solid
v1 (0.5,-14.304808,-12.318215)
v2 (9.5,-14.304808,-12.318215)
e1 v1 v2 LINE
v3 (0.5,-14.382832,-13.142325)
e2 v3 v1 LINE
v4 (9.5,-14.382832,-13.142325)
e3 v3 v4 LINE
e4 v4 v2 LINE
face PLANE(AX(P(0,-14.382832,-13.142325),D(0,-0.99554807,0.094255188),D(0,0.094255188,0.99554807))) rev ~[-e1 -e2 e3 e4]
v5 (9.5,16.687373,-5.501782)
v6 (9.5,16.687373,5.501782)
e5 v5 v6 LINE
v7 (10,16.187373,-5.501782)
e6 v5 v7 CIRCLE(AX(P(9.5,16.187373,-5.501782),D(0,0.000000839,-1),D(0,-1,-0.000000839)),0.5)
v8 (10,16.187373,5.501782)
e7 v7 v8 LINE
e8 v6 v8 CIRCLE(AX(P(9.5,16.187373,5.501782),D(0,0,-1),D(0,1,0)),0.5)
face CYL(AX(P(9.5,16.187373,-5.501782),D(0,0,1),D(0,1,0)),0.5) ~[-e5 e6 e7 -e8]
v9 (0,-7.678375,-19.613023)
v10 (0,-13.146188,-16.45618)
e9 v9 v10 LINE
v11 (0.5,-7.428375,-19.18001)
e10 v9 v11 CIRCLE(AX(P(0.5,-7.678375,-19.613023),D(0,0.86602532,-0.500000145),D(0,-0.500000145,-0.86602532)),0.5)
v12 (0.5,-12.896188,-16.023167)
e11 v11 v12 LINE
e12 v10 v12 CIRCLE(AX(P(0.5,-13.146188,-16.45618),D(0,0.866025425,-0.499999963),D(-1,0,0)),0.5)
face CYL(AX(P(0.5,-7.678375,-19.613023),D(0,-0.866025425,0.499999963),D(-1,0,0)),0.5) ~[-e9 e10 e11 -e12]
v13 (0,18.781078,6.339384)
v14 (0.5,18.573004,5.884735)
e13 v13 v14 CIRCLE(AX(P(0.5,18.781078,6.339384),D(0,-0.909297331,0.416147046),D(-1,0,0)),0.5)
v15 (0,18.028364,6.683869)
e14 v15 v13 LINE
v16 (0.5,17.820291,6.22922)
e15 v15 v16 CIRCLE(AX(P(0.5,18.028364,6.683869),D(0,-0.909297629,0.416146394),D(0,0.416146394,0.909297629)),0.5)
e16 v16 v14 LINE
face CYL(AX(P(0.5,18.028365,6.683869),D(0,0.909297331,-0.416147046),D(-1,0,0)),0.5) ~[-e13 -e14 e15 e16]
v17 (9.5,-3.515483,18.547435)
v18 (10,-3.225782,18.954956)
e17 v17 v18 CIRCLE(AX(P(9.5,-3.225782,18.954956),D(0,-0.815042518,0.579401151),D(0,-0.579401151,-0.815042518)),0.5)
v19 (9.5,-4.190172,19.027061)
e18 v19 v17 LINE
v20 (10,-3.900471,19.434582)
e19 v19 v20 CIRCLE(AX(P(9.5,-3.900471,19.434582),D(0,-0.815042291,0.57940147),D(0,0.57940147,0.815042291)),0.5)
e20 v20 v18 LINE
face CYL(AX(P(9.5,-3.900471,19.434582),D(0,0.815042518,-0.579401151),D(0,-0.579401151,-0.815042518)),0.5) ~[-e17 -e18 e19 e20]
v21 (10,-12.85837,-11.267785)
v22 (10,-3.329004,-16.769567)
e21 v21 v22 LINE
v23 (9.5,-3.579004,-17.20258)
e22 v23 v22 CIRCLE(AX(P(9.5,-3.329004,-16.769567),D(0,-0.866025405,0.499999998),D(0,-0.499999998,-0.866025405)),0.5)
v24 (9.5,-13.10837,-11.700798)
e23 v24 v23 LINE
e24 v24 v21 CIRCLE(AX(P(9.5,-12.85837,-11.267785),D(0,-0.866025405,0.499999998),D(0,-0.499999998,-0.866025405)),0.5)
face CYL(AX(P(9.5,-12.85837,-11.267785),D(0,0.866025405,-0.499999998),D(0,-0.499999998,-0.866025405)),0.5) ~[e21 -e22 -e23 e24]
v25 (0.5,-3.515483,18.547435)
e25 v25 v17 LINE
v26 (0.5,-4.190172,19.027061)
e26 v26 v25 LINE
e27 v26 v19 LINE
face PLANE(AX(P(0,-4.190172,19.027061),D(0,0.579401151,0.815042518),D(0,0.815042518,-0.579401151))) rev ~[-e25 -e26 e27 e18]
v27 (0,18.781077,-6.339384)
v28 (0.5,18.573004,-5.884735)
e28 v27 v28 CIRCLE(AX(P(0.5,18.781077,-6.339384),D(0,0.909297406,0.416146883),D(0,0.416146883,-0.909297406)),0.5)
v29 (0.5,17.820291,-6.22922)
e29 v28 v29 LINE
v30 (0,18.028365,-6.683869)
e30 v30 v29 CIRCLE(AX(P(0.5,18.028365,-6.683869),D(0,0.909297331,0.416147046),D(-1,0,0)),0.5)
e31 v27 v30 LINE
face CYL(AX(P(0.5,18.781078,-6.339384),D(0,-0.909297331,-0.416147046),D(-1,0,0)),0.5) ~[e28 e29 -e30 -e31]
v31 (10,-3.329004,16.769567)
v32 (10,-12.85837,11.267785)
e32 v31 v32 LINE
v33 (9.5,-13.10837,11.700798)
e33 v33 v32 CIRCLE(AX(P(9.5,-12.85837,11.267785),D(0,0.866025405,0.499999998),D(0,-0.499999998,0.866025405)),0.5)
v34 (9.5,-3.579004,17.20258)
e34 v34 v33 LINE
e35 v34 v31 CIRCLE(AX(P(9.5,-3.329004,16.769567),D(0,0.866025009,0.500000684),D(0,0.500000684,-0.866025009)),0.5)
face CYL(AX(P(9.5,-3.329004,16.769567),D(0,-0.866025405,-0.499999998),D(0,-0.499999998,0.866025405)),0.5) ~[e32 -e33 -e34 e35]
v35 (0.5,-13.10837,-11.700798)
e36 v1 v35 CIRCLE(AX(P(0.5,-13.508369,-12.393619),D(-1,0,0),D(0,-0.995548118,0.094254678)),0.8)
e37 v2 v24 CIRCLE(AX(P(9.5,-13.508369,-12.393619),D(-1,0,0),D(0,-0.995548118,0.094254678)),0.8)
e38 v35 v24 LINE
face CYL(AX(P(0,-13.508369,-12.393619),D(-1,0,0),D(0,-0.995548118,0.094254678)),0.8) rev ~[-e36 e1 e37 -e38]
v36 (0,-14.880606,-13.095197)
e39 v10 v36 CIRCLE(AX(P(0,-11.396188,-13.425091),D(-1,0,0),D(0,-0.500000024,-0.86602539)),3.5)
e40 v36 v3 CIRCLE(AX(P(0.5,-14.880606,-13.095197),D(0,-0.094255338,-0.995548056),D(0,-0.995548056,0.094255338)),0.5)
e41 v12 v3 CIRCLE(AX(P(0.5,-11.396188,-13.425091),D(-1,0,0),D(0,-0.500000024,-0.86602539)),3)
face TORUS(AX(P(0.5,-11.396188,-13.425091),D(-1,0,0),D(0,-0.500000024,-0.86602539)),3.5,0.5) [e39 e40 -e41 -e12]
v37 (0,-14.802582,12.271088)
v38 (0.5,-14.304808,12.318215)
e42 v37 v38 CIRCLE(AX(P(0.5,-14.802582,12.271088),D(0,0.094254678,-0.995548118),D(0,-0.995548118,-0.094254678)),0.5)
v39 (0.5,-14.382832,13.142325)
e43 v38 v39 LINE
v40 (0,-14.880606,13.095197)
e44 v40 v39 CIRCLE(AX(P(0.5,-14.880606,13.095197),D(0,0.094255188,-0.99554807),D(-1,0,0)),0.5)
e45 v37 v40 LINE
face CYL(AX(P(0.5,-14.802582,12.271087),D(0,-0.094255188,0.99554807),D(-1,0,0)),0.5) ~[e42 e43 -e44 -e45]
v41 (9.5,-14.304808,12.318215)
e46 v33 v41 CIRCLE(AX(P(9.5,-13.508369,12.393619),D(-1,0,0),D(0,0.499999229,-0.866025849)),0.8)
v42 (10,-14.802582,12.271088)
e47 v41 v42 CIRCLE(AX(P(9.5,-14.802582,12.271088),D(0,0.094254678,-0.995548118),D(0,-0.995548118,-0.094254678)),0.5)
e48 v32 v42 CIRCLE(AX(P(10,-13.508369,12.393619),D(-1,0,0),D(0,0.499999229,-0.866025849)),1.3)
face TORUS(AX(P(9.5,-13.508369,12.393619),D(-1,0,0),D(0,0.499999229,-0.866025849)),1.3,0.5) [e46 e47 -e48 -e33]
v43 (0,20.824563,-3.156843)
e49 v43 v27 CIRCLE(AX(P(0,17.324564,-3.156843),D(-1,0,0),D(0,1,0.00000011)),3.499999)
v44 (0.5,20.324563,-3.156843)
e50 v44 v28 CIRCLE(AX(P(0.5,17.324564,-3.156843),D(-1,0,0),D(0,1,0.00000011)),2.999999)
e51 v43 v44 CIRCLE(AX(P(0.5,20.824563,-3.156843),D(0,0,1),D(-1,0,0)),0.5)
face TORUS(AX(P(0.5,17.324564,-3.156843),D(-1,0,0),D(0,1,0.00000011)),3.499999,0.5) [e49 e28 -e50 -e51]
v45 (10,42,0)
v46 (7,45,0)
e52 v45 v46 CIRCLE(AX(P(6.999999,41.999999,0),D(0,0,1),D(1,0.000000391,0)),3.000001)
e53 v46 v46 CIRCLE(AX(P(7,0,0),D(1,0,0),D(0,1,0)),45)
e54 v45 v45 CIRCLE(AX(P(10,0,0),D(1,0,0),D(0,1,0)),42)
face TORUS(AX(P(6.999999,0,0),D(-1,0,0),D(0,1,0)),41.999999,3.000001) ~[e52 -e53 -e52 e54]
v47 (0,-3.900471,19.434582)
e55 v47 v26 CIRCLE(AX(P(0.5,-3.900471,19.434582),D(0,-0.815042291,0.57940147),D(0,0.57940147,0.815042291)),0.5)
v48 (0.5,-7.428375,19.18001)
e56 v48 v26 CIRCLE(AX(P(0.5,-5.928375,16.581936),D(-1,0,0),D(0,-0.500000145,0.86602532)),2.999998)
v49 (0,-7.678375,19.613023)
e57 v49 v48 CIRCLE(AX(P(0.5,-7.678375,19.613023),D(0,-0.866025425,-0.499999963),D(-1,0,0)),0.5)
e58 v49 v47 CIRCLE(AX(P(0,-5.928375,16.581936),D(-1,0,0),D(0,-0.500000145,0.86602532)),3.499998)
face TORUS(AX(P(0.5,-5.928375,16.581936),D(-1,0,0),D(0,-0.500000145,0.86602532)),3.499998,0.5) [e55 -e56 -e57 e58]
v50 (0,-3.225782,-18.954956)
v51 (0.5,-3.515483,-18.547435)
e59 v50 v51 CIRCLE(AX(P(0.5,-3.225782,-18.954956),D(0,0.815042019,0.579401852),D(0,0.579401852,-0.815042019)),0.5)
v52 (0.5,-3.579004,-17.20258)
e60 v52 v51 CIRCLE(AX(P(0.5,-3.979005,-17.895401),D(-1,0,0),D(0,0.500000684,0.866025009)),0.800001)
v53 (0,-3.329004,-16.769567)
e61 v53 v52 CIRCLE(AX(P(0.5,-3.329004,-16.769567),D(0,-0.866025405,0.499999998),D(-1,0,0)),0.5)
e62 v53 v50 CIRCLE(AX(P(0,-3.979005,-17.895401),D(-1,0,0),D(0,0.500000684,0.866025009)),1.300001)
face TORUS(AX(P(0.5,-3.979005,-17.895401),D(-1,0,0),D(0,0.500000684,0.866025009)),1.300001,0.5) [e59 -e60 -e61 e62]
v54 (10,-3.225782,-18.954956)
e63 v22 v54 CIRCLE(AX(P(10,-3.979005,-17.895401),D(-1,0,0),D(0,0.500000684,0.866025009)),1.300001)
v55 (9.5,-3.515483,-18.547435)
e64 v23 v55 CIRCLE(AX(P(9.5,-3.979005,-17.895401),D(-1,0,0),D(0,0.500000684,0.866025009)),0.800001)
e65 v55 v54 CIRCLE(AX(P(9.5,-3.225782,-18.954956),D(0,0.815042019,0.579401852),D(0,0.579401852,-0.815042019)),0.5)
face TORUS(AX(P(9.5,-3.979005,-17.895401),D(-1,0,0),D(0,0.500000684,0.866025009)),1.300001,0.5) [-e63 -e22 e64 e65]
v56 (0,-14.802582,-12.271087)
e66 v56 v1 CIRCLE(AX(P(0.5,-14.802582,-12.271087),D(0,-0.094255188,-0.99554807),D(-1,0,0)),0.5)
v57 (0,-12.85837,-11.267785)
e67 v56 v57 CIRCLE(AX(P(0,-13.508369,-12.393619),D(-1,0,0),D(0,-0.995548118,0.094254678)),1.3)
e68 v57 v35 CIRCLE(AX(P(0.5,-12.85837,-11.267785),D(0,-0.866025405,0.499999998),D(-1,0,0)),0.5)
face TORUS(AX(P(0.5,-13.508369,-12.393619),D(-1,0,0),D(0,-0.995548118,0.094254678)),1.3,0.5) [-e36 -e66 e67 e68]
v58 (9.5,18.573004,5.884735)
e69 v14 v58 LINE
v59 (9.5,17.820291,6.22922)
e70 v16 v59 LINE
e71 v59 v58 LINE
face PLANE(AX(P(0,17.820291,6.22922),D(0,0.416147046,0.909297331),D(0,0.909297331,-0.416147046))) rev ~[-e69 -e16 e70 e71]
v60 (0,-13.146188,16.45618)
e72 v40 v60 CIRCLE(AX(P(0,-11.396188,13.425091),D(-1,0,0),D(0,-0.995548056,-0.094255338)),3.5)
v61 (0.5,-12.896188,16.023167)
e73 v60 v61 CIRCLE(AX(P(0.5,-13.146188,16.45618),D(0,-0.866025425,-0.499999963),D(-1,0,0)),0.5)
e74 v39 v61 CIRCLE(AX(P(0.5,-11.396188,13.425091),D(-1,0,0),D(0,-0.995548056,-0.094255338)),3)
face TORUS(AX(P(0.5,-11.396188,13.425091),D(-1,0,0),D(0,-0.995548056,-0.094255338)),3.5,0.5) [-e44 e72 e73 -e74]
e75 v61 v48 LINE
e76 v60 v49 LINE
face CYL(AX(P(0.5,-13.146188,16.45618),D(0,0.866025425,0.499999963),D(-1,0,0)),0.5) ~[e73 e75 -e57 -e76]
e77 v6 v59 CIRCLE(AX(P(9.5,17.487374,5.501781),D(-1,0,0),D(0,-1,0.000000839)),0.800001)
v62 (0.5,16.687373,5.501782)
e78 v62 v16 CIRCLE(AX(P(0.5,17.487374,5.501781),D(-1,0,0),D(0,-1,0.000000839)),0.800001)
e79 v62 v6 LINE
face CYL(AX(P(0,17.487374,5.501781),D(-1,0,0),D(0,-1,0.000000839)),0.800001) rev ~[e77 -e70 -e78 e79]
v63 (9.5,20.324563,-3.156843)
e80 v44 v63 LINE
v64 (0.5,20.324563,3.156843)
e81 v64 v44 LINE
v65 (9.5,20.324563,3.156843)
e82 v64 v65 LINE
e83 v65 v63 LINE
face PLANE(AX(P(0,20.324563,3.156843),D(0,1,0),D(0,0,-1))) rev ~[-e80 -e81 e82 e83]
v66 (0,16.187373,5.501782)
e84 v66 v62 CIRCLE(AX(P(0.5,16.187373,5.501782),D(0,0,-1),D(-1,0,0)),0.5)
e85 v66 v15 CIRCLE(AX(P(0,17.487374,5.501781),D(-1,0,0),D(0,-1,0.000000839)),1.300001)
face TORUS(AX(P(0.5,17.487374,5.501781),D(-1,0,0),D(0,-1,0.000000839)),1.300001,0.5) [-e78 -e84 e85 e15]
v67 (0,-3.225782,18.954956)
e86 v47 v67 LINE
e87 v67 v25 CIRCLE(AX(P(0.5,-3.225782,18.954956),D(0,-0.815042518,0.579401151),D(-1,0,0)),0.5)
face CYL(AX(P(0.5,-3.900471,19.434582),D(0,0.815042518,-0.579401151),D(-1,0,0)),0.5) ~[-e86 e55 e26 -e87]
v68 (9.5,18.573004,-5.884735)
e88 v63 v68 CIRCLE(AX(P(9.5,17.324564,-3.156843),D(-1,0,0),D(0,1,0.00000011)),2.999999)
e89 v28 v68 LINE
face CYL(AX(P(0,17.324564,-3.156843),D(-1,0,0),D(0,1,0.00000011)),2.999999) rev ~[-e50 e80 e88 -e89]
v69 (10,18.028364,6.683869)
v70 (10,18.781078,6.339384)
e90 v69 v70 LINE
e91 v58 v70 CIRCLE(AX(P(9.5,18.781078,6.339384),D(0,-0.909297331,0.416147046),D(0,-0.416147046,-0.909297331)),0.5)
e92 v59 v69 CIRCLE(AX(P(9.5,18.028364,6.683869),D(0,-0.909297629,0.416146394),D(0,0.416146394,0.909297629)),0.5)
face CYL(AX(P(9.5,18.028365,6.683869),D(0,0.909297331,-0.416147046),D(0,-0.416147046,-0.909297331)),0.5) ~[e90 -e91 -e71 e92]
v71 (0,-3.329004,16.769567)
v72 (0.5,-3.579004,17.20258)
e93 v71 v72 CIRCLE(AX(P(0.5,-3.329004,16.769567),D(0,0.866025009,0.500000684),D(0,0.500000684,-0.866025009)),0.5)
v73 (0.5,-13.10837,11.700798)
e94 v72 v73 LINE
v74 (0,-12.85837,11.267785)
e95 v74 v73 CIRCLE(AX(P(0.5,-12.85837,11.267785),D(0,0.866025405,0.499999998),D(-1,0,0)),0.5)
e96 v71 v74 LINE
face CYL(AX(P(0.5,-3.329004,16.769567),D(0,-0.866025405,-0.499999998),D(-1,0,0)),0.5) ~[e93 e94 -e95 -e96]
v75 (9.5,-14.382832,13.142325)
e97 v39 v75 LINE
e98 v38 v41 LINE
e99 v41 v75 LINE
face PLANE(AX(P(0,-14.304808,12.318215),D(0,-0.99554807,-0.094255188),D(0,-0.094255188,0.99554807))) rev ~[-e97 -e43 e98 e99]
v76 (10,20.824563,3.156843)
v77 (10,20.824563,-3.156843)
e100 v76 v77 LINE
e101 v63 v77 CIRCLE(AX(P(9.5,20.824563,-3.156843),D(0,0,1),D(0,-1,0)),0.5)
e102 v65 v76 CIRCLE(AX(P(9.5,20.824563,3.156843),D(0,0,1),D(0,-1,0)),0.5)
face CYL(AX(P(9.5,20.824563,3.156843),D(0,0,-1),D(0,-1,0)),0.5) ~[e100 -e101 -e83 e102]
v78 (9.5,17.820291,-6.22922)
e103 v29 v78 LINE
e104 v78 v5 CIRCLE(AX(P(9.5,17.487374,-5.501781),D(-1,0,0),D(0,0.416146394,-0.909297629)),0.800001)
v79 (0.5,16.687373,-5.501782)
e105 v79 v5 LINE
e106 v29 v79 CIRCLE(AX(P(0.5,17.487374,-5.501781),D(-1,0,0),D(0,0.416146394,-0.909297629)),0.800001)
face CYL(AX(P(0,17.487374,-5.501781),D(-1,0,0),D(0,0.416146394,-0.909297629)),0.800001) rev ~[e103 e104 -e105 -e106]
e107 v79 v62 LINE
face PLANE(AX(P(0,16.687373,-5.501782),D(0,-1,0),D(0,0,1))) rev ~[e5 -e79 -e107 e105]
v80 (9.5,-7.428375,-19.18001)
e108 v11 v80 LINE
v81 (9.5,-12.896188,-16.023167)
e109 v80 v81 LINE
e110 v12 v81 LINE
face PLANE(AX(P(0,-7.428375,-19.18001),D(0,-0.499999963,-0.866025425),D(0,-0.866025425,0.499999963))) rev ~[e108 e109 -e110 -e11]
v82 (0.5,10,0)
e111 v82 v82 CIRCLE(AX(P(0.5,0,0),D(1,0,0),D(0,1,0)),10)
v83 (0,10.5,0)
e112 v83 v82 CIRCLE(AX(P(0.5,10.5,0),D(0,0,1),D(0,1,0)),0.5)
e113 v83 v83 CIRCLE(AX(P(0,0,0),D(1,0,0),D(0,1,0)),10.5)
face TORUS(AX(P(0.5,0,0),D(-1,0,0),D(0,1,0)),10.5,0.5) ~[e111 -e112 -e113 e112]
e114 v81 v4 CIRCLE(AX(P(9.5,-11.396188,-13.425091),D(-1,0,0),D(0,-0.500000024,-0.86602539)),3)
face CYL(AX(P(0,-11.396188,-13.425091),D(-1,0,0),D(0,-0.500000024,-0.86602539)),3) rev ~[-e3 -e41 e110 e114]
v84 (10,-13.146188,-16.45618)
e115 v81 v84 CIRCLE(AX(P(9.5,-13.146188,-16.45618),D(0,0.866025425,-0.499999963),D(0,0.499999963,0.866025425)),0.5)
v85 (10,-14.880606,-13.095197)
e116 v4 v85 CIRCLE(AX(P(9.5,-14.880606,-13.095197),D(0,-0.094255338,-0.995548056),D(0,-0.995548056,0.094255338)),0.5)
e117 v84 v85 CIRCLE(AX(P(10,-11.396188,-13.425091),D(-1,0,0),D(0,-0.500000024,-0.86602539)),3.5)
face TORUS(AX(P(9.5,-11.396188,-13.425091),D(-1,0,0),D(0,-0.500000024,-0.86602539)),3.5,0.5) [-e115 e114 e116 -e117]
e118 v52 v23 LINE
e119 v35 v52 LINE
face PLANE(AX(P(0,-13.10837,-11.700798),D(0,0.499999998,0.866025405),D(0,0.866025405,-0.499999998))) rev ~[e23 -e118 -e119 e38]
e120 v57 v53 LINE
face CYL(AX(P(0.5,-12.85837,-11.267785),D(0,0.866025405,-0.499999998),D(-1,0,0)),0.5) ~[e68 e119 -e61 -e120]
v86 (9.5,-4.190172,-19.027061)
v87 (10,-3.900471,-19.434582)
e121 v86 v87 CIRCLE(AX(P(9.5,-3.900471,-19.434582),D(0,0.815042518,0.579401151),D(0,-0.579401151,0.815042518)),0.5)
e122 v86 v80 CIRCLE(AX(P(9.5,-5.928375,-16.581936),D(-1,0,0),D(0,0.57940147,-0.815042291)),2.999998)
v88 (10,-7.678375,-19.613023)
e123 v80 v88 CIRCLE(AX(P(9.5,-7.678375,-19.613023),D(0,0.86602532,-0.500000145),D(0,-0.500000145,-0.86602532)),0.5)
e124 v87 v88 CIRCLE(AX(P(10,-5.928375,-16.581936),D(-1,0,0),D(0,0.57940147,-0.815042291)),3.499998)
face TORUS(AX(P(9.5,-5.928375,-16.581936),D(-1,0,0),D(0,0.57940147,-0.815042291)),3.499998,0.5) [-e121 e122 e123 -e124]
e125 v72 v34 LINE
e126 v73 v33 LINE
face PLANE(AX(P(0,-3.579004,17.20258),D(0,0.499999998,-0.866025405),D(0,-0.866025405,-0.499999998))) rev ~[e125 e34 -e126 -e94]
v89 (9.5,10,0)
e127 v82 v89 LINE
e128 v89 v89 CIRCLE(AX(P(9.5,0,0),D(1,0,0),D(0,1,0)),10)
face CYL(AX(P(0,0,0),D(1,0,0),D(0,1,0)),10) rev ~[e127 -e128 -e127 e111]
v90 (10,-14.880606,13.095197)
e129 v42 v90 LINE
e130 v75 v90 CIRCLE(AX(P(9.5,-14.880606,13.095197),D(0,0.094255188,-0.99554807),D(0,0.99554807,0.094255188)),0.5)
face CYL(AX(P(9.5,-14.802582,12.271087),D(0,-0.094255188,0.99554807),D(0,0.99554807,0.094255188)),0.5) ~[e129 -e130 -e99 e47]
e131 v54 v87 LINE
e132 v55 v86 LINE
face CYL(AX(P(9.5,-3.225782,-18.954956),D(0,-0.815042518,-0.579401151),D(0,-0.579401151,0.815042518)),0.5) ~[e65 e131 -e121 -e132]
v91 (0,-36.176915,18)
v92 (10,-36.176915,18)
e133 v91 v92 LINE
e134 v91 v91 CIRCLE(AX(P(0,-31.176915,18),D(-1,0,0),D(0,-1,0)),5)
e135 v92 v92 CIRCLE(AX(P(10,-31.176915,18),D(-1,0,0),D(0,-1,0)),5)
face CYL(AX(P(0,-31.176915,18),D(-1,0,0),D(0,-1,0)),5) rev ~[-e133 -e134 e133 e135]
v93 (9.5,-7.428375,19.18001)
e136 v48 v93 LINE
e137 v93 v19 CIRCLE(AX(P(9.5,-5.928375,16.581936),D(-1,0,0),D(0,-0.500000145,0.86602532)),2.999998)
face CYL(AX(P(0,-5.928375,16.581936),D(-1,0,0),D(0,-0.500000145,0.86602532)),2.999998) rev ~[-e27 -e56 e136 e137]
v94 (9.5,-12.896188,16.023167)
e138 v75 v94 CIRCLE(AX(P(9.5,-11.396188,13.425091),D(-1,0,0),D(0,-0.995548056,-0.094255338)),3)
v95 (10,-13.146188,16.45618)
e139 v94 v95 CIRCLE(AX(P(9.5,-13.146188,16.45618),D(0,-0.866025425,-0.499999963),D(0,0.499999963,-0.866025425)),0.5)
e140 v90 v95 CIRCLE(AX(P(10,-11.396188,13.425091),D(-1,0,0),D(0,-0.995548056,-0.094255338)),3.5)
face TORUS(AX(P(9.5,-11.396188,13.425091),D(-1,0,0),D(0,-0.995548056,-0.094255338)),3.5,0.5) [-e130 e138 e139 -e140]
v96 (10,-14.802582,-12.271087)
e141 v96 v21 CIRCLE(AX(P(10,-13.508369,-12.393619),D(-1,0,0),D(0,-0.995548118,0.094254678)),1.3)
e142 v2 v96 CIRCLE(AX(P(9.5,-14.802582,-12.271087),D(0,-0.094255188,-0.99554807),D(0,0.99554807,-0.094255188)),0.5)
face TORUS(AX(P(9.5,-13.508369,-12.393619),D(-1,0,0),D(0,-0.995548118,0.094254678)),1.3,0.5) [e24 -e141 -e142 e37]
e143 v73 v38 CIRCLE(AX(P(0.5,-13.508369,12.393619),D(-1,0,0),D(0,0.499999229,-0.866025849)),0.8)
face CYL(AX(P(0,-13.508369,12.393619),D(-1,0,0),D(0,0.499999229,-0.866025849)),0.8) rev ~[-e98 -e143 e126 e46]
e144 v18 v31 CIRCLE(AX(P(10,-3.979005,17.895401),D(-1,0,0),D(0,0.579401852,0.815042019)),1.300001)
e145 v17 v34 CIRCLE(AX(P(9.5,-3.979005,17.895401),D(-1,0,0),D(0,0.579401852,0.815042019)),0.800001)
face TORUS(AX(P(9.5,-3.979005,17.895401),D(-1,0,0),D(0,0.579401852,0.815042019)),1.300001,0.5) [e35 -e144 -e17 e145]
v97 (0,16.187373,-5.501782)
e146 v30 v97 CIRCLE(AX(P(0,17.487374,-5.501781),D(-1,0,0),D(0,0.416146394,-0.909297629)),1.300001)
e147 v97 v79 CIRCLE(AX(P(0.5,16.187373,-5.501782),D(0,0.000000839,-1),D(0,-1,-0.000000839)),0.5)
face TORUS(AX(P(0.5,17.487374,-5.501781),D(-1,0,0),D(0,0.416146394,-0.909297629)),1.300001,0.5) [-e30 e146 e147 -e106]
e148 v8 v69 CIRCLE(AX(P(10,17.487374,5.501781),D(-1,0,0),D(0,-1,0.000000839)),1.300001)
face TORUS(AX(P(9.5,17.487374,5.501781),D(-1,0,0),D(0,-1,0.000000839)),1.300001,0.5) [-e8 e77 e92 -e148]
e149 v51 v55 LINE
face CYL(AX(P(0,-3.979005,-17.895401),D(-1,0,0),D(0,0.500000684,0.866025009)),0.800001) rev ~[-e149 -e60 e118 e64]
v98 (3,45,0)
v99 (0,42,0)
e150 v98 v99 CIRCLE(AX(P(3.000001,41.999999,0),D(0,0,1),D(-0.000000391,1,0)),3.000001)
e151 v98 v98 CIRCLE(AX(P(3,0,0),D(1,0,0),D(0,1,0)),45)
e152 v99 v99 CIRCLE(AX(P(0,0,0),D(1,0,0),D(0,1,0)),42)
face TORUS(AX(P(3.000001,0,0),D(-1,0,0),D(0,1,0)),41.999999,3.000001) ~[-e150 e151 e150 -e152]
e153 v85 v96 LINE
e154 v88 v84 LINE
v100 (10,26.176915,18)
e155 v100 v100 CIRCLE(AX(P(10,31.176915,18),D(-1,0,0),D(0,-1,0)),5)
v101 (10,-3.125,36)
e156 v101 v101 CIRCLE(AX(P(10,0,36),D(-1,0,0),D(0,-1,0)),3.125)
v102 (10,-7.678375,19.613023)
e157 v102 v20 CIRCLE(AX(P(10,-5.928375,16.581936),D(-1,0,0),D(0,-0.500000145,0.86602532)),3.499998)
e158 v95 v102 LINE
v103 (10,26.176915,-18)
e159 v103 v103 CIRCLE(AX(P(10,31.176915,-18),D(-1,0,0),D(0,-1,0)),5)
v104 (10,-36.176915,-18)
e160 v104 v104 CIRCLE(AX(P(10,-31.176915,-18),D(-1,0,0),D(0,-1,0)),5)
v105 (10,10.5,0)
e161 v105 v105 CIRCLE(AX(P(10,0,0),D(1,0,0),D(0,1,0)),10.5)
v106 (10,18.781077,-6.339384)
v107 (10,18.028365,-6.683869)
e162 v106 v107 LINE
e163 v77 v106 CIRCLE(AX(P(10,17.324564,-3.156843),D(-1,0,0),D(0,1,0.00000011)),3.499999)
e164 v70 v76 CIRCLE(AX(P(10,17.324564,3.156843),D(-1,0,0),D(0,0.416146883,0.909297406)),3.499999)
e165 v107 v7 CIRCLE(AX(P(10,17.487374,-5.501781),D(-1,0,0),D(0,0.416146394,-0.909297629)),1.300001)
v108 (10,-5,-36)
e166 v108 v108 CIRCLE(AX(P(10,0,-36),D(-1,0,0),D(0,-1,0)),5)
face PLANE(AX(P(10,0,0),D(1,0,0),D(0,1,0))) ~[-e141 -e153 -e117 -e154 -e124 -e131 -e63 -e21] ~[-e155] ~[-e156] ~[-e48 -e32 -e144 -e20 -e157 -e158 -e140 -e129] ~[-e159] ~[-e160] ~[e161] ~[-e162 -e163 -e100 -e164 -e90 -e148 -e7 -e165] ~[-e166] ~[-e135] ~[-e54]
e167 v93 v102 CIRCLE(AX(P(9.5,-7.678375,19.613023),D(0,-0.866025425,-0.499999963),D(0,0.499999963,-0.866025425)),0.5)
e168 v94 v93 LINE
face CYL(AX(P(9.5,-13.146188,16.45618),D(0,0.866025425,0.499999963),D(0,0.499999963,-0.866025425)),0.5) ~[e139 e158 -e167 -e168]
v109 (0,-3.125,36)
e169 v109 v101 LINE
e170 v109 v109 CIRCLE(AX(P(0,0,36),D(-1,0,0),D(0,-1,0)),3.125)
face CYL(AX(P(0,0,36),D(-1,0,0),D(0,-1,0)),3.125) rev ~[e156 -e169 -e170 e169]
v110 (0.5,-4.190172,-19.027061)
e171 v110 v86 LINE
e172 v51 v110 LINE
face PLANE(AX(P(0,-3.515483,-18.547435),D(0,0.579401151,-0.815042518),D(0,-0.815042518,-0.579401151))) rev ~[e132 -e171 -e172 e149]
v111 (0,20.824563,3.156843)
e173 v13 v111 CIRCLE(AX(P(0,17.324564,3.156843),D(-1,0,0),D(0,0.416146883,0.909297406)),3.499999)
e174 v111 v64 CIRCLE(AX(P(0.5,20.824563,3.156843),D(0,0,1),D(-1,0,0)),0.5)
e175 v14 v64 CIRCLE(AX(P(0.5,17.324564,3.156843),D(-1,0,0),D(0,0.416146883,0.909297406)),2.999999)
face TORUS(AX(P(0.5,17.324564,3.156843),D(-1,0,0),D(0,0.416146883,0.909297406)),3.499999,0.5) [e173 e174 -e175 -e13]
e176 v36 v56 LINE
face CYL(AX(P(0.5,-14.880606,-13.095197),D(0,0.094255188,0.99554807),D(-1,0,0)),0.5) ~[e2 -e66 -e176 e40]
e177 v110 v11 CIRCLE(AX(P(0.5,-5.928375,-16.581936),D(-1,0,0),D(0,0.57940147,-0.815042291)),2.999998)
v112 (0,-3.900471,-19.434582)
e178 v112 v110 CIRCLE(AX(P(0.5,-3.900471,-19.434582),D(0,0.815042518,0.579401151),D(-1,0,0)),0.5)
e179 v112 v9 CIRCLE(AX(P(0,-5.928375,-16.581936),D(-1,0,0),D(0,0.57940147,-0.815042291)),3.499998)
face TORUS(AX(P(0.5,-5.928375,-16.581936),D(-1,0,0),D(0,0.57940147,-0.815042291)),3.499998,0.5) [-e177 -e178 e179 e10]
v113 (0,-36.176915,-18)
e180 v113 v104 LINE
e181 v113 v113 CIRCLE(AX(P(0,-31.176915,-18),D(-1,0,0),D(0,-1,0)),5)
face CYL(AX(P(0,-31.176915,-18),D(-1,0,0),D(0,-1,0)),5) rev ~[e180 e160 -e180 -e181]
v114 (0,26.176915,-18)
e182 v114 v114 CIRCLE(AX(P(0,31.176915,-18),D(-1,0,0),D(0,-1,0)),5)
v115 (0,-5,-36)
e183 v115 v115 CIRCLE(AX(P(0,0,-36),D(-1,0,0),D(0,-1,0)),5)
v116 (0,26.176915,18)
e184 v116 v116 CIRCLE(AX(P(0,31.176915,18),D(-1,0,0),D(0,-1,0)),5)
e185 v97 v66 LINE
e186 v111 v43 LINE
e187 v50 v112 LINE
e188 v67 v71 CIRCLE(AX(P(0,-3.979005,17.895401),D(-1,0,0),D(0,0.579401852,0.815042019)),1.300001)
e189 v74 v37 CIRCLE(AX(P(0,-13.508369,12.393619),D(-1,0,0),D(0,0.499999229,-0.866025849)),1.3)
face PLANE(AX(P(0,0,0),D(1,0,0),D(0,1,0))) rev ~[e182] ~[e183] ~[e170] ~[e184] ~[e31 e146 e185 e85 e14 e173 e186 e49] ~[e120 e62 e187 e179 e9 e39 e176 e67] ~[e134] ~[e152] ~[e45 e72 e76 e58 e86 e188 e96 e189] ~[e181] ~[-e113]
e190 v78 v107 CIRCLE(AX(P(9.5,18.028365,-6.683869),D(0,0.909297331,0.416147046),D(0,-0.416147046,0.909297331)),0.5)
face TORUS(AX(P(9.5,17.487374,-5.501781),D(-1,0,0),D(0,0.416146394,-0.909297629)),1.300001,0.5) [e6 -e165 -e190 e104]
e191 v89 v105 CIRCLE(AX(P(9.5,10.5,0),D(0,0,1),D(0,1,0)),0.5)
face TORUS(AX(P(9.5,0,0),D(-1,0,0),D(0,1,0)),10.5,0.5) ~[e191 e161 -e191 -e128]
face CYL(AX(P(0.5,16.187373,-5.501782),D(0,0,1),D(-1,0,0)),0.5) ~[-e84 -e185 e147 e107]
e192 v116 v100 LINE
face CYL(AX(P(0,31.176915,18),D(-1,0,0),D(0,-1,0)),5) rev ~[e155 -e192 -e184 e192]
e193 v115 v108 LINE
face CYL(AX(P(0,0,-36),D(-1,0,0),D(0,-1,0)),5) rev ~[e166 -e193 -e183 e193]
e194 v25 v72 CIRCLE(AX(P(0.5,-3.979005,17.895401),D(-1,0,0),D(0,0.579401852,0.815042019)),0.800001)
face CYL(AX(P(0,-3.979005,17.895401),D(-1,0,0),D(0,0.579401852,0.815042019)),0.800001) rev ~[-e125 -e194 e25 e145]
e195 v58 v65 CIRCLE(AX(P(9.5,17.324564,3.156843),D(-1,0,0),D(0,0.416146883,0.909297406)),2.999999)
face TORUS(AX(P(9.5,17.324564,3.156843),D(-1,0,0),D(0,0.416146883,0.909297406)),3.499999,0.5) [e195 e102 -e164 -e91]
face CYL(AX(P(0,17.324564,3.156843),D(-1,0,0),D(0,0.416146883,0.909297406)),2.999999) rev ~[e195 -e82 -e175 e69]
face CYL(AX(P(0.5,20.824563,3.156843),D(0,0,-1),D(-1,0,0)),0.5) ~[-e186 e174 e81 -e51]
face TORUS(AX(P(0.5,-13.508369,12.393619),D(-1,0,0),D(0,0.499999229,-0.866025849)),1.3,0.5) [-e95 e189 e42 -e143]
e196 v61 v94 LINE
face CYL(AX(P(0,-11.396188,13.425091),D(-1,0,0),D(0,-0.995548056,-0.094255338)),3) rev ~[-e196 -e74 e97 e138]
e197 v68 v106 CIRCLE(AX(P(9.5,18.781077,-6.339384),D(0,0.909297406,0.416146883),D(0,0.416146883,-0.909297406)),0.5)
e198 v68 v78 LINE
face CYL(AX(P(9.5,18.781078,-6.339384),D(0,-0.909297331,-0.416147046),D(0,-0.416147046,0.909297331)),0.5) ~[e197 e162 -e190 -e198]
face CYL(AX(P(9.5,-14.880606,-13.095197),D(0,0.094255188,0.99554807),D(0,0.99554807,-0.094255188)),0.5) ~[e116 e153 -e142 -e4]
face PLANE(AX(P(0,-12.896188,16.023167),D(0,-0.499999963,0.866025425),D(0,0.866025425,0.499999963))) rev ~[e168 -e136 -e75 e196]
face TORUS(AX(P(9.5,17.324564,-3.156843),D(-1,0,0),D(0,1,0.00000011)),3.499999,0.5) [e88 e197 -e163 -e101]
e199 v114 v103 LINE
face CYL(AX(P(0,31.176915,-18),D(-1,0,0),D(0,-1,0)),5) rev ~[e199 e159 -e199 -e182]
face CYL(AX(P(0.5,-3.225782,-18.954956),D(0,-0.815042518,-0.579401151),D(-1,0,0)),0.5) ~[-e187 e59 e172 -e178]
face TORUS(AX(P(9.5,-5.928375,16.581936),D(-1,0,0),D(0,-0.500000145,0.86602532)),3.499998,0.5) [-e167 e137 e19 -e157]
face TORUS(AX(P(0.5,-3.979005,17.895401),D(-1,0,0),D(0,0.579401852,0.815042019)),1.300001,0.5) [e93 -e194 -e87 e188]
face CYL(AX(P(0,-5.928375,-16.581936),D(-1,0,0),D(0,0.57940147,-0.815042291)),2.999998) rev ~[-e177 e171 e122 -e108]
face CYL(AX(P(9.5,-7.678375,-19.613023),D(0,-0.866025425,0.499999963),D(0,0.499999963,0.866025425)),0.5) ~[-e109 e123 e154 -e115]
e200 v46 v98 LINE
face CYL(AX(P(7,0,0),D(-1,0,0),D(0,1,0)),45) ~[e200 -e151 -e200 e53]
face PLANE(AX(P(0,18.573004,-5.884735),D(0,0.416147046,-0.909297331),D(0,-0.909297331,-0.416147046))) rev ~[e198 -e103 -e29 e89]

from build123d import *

# Parameters (mm, degrees)
F2_R     = 5
F3_DEPTH = 10
F2_R_2   = 3.125
F4_DEPTH = 10
F6_DEPTH = 10
F7_R     = 0.5


with BuildPart() as f1:
    # F0 (on Top) → F1 (revolve)
    with BuildSketch(Plane.XY):
        with BuildLine():
            Line((0, 42), (0, 10))
            Line((0, 10), (10, 10))
            Line((10, 10), (10, 42))
            ThreePointArc((10, 42), (9.12132, 44.12132), (7, 45))
            Line((7, 45), (3, 45))
            ThreePointArc((3, 45), (0.87868, 44.12132), (0, 42))
        make_face()
    revolve(axis=Axis((32.794026, 0, 0), (1, 0, 0)))

    # F2 (on face) → F3 (cut, through all)
    with BuildSketch(Plane(origin=(0, 0, 0), x_dir=(0, -1, 0), z_dir=(-1, 0, 0))):
        with Locations((-31.176915, 18)):
            Circle(F2_R)
        with Locations((-31.176915, -18)):
            Circle(F2_R)
        with Locations((0, -36)):
            Circle(F2_R)
        with Locations((31.176915, -18)):
            Circle(F2_R)
        with Locations((31.176915, 18)):
            Circle(F2_R)
    extrude(amount=-F3_DEPTH, mode=Mode.SUBTRACT)

    # F2 (on face) → F4 (cut, through all)
    with BuildSketch(Plane(origin=(0, 0, 0), x_dir=(0, -1, 0), z_dir=(-1, 0, 0))):
        with Locations((0, 36)):
            Circle(F2_R_2)
    extrude(amount=-F4_DEPTH, mode=Mode.SUBTRACT)

    # F5 (on face) → F6 (cut, through all)
    with BuildSketch(Plane(origin=(0, 0, 0), x_dir=(0, -1, 0), z_dir=(-1, 0, 0))):
        with BuildLine():
            Line((-20.324563, 3.156843), (-20.324563, -3.156843))
            ThreePointArc((-20.324563, -3.156843), (-19.848976, -4.77775), (-18.573004, -5.884735))
            Line((-18.573004, -5.884735), (-17.820291, -6.22922))
            ThreePointArc((-17.820291, -6.22922), (-17.055132, -6.174959), (-16.687373, -5.501782))
            Line((-16.687373, -5.501782), (-16.687373, 5.501782))
            ThreePointArc((-16.687373, 5.501782), (-17.055132, 6.174959), (-17.820291, 6.22922))
            Line((-17.820291, 6.22922), (-18.573004, 5.884735))
            ThreePointArc((-18.573004, 5.884735), (-19.848976, 4.77775), (-20.324563, 3.156843))
        make_face()
        with BuildLine():
            ThreePointArc((3.515483, 18.547435), (3.179895, 17.857657), (3.579004, 17.20258))
            Line((3.579004, 17.20258), (13.10837, 11.700798))
            ThreePointArc((13.10837, 11.700798), (13.875237, 11.682698), (14.304808, 12.318215))
            Line((14.304808, 12.318215), (14.382832, 13.142325))
            ThreePointArc((14.382832, 13.142325), (14.062141, 14.800843), (12.896188, 16.023167))
            Line((12.896188, 16.023167), (7.428375, 19.18001))
            ThreePointArc((7.428375, 19.18001), (5.786835, 19.578593), (4.190172, 19.027061))
            Line((4.190172, 19.027061), (3.515483, 18.547435))
        make_face()
        with BuildLine():
            Line((7.428375, -19.18001), (12.896188, -16.023167))
            ThreePointArc((12.896188, -16.023167), (14.062141, -14.800843), (14.382832, -13.142325))
            Line((14.382832, -13.142325), (14.304808, -12.318215))
            ThreePointArc((14.304808, -12.318215), (13.875237, -11.682698), (13.10837, -11.700798))
            Line((13.10837, -11.700798), (3.579004, -17.20258))
            ThreePointArc((3.579004, -17.20258), (3.179895, -17.857657), (3.515483, -18.547435))
            Line((3.515483, -18.547435), (4.190172, -19.027061))
            ThreePointArc((4.190172, -19.027061), (5.786835, -19.578593), (7.428375, -19.18001))
        make_face()
    extrude(amount=-F6_DEPTH, mode=Mode.SUBTRACT)

    # F7
    f7_edges = [f1.edges().sort_by_distance(p)[0] for p in [
        (0, -10, 0),
        (10, -10, 0),
        (5, 10, 0),
        (5, 20.324563, 3.156843),
        (5, 20.324563, -3.156843),
        (0, 20.324563, 0),
        (10, 20.324563, 0),
        (5, -12.896188, 16.023167),
        (5, -7.428375, 19.18001),
        (0, -10.162282, 17.601588),
        (10, -10.162282, 17.601588),
        (5, -13.10837, -11.700798),
        (5, -3.579004, -17.20258),
        (0, -8.343687, -14.451689),
        (10, -8.343687, -14.451689),
    ]]
    fillet(f7_edges, radius=F7_R)


solid = f1.part
